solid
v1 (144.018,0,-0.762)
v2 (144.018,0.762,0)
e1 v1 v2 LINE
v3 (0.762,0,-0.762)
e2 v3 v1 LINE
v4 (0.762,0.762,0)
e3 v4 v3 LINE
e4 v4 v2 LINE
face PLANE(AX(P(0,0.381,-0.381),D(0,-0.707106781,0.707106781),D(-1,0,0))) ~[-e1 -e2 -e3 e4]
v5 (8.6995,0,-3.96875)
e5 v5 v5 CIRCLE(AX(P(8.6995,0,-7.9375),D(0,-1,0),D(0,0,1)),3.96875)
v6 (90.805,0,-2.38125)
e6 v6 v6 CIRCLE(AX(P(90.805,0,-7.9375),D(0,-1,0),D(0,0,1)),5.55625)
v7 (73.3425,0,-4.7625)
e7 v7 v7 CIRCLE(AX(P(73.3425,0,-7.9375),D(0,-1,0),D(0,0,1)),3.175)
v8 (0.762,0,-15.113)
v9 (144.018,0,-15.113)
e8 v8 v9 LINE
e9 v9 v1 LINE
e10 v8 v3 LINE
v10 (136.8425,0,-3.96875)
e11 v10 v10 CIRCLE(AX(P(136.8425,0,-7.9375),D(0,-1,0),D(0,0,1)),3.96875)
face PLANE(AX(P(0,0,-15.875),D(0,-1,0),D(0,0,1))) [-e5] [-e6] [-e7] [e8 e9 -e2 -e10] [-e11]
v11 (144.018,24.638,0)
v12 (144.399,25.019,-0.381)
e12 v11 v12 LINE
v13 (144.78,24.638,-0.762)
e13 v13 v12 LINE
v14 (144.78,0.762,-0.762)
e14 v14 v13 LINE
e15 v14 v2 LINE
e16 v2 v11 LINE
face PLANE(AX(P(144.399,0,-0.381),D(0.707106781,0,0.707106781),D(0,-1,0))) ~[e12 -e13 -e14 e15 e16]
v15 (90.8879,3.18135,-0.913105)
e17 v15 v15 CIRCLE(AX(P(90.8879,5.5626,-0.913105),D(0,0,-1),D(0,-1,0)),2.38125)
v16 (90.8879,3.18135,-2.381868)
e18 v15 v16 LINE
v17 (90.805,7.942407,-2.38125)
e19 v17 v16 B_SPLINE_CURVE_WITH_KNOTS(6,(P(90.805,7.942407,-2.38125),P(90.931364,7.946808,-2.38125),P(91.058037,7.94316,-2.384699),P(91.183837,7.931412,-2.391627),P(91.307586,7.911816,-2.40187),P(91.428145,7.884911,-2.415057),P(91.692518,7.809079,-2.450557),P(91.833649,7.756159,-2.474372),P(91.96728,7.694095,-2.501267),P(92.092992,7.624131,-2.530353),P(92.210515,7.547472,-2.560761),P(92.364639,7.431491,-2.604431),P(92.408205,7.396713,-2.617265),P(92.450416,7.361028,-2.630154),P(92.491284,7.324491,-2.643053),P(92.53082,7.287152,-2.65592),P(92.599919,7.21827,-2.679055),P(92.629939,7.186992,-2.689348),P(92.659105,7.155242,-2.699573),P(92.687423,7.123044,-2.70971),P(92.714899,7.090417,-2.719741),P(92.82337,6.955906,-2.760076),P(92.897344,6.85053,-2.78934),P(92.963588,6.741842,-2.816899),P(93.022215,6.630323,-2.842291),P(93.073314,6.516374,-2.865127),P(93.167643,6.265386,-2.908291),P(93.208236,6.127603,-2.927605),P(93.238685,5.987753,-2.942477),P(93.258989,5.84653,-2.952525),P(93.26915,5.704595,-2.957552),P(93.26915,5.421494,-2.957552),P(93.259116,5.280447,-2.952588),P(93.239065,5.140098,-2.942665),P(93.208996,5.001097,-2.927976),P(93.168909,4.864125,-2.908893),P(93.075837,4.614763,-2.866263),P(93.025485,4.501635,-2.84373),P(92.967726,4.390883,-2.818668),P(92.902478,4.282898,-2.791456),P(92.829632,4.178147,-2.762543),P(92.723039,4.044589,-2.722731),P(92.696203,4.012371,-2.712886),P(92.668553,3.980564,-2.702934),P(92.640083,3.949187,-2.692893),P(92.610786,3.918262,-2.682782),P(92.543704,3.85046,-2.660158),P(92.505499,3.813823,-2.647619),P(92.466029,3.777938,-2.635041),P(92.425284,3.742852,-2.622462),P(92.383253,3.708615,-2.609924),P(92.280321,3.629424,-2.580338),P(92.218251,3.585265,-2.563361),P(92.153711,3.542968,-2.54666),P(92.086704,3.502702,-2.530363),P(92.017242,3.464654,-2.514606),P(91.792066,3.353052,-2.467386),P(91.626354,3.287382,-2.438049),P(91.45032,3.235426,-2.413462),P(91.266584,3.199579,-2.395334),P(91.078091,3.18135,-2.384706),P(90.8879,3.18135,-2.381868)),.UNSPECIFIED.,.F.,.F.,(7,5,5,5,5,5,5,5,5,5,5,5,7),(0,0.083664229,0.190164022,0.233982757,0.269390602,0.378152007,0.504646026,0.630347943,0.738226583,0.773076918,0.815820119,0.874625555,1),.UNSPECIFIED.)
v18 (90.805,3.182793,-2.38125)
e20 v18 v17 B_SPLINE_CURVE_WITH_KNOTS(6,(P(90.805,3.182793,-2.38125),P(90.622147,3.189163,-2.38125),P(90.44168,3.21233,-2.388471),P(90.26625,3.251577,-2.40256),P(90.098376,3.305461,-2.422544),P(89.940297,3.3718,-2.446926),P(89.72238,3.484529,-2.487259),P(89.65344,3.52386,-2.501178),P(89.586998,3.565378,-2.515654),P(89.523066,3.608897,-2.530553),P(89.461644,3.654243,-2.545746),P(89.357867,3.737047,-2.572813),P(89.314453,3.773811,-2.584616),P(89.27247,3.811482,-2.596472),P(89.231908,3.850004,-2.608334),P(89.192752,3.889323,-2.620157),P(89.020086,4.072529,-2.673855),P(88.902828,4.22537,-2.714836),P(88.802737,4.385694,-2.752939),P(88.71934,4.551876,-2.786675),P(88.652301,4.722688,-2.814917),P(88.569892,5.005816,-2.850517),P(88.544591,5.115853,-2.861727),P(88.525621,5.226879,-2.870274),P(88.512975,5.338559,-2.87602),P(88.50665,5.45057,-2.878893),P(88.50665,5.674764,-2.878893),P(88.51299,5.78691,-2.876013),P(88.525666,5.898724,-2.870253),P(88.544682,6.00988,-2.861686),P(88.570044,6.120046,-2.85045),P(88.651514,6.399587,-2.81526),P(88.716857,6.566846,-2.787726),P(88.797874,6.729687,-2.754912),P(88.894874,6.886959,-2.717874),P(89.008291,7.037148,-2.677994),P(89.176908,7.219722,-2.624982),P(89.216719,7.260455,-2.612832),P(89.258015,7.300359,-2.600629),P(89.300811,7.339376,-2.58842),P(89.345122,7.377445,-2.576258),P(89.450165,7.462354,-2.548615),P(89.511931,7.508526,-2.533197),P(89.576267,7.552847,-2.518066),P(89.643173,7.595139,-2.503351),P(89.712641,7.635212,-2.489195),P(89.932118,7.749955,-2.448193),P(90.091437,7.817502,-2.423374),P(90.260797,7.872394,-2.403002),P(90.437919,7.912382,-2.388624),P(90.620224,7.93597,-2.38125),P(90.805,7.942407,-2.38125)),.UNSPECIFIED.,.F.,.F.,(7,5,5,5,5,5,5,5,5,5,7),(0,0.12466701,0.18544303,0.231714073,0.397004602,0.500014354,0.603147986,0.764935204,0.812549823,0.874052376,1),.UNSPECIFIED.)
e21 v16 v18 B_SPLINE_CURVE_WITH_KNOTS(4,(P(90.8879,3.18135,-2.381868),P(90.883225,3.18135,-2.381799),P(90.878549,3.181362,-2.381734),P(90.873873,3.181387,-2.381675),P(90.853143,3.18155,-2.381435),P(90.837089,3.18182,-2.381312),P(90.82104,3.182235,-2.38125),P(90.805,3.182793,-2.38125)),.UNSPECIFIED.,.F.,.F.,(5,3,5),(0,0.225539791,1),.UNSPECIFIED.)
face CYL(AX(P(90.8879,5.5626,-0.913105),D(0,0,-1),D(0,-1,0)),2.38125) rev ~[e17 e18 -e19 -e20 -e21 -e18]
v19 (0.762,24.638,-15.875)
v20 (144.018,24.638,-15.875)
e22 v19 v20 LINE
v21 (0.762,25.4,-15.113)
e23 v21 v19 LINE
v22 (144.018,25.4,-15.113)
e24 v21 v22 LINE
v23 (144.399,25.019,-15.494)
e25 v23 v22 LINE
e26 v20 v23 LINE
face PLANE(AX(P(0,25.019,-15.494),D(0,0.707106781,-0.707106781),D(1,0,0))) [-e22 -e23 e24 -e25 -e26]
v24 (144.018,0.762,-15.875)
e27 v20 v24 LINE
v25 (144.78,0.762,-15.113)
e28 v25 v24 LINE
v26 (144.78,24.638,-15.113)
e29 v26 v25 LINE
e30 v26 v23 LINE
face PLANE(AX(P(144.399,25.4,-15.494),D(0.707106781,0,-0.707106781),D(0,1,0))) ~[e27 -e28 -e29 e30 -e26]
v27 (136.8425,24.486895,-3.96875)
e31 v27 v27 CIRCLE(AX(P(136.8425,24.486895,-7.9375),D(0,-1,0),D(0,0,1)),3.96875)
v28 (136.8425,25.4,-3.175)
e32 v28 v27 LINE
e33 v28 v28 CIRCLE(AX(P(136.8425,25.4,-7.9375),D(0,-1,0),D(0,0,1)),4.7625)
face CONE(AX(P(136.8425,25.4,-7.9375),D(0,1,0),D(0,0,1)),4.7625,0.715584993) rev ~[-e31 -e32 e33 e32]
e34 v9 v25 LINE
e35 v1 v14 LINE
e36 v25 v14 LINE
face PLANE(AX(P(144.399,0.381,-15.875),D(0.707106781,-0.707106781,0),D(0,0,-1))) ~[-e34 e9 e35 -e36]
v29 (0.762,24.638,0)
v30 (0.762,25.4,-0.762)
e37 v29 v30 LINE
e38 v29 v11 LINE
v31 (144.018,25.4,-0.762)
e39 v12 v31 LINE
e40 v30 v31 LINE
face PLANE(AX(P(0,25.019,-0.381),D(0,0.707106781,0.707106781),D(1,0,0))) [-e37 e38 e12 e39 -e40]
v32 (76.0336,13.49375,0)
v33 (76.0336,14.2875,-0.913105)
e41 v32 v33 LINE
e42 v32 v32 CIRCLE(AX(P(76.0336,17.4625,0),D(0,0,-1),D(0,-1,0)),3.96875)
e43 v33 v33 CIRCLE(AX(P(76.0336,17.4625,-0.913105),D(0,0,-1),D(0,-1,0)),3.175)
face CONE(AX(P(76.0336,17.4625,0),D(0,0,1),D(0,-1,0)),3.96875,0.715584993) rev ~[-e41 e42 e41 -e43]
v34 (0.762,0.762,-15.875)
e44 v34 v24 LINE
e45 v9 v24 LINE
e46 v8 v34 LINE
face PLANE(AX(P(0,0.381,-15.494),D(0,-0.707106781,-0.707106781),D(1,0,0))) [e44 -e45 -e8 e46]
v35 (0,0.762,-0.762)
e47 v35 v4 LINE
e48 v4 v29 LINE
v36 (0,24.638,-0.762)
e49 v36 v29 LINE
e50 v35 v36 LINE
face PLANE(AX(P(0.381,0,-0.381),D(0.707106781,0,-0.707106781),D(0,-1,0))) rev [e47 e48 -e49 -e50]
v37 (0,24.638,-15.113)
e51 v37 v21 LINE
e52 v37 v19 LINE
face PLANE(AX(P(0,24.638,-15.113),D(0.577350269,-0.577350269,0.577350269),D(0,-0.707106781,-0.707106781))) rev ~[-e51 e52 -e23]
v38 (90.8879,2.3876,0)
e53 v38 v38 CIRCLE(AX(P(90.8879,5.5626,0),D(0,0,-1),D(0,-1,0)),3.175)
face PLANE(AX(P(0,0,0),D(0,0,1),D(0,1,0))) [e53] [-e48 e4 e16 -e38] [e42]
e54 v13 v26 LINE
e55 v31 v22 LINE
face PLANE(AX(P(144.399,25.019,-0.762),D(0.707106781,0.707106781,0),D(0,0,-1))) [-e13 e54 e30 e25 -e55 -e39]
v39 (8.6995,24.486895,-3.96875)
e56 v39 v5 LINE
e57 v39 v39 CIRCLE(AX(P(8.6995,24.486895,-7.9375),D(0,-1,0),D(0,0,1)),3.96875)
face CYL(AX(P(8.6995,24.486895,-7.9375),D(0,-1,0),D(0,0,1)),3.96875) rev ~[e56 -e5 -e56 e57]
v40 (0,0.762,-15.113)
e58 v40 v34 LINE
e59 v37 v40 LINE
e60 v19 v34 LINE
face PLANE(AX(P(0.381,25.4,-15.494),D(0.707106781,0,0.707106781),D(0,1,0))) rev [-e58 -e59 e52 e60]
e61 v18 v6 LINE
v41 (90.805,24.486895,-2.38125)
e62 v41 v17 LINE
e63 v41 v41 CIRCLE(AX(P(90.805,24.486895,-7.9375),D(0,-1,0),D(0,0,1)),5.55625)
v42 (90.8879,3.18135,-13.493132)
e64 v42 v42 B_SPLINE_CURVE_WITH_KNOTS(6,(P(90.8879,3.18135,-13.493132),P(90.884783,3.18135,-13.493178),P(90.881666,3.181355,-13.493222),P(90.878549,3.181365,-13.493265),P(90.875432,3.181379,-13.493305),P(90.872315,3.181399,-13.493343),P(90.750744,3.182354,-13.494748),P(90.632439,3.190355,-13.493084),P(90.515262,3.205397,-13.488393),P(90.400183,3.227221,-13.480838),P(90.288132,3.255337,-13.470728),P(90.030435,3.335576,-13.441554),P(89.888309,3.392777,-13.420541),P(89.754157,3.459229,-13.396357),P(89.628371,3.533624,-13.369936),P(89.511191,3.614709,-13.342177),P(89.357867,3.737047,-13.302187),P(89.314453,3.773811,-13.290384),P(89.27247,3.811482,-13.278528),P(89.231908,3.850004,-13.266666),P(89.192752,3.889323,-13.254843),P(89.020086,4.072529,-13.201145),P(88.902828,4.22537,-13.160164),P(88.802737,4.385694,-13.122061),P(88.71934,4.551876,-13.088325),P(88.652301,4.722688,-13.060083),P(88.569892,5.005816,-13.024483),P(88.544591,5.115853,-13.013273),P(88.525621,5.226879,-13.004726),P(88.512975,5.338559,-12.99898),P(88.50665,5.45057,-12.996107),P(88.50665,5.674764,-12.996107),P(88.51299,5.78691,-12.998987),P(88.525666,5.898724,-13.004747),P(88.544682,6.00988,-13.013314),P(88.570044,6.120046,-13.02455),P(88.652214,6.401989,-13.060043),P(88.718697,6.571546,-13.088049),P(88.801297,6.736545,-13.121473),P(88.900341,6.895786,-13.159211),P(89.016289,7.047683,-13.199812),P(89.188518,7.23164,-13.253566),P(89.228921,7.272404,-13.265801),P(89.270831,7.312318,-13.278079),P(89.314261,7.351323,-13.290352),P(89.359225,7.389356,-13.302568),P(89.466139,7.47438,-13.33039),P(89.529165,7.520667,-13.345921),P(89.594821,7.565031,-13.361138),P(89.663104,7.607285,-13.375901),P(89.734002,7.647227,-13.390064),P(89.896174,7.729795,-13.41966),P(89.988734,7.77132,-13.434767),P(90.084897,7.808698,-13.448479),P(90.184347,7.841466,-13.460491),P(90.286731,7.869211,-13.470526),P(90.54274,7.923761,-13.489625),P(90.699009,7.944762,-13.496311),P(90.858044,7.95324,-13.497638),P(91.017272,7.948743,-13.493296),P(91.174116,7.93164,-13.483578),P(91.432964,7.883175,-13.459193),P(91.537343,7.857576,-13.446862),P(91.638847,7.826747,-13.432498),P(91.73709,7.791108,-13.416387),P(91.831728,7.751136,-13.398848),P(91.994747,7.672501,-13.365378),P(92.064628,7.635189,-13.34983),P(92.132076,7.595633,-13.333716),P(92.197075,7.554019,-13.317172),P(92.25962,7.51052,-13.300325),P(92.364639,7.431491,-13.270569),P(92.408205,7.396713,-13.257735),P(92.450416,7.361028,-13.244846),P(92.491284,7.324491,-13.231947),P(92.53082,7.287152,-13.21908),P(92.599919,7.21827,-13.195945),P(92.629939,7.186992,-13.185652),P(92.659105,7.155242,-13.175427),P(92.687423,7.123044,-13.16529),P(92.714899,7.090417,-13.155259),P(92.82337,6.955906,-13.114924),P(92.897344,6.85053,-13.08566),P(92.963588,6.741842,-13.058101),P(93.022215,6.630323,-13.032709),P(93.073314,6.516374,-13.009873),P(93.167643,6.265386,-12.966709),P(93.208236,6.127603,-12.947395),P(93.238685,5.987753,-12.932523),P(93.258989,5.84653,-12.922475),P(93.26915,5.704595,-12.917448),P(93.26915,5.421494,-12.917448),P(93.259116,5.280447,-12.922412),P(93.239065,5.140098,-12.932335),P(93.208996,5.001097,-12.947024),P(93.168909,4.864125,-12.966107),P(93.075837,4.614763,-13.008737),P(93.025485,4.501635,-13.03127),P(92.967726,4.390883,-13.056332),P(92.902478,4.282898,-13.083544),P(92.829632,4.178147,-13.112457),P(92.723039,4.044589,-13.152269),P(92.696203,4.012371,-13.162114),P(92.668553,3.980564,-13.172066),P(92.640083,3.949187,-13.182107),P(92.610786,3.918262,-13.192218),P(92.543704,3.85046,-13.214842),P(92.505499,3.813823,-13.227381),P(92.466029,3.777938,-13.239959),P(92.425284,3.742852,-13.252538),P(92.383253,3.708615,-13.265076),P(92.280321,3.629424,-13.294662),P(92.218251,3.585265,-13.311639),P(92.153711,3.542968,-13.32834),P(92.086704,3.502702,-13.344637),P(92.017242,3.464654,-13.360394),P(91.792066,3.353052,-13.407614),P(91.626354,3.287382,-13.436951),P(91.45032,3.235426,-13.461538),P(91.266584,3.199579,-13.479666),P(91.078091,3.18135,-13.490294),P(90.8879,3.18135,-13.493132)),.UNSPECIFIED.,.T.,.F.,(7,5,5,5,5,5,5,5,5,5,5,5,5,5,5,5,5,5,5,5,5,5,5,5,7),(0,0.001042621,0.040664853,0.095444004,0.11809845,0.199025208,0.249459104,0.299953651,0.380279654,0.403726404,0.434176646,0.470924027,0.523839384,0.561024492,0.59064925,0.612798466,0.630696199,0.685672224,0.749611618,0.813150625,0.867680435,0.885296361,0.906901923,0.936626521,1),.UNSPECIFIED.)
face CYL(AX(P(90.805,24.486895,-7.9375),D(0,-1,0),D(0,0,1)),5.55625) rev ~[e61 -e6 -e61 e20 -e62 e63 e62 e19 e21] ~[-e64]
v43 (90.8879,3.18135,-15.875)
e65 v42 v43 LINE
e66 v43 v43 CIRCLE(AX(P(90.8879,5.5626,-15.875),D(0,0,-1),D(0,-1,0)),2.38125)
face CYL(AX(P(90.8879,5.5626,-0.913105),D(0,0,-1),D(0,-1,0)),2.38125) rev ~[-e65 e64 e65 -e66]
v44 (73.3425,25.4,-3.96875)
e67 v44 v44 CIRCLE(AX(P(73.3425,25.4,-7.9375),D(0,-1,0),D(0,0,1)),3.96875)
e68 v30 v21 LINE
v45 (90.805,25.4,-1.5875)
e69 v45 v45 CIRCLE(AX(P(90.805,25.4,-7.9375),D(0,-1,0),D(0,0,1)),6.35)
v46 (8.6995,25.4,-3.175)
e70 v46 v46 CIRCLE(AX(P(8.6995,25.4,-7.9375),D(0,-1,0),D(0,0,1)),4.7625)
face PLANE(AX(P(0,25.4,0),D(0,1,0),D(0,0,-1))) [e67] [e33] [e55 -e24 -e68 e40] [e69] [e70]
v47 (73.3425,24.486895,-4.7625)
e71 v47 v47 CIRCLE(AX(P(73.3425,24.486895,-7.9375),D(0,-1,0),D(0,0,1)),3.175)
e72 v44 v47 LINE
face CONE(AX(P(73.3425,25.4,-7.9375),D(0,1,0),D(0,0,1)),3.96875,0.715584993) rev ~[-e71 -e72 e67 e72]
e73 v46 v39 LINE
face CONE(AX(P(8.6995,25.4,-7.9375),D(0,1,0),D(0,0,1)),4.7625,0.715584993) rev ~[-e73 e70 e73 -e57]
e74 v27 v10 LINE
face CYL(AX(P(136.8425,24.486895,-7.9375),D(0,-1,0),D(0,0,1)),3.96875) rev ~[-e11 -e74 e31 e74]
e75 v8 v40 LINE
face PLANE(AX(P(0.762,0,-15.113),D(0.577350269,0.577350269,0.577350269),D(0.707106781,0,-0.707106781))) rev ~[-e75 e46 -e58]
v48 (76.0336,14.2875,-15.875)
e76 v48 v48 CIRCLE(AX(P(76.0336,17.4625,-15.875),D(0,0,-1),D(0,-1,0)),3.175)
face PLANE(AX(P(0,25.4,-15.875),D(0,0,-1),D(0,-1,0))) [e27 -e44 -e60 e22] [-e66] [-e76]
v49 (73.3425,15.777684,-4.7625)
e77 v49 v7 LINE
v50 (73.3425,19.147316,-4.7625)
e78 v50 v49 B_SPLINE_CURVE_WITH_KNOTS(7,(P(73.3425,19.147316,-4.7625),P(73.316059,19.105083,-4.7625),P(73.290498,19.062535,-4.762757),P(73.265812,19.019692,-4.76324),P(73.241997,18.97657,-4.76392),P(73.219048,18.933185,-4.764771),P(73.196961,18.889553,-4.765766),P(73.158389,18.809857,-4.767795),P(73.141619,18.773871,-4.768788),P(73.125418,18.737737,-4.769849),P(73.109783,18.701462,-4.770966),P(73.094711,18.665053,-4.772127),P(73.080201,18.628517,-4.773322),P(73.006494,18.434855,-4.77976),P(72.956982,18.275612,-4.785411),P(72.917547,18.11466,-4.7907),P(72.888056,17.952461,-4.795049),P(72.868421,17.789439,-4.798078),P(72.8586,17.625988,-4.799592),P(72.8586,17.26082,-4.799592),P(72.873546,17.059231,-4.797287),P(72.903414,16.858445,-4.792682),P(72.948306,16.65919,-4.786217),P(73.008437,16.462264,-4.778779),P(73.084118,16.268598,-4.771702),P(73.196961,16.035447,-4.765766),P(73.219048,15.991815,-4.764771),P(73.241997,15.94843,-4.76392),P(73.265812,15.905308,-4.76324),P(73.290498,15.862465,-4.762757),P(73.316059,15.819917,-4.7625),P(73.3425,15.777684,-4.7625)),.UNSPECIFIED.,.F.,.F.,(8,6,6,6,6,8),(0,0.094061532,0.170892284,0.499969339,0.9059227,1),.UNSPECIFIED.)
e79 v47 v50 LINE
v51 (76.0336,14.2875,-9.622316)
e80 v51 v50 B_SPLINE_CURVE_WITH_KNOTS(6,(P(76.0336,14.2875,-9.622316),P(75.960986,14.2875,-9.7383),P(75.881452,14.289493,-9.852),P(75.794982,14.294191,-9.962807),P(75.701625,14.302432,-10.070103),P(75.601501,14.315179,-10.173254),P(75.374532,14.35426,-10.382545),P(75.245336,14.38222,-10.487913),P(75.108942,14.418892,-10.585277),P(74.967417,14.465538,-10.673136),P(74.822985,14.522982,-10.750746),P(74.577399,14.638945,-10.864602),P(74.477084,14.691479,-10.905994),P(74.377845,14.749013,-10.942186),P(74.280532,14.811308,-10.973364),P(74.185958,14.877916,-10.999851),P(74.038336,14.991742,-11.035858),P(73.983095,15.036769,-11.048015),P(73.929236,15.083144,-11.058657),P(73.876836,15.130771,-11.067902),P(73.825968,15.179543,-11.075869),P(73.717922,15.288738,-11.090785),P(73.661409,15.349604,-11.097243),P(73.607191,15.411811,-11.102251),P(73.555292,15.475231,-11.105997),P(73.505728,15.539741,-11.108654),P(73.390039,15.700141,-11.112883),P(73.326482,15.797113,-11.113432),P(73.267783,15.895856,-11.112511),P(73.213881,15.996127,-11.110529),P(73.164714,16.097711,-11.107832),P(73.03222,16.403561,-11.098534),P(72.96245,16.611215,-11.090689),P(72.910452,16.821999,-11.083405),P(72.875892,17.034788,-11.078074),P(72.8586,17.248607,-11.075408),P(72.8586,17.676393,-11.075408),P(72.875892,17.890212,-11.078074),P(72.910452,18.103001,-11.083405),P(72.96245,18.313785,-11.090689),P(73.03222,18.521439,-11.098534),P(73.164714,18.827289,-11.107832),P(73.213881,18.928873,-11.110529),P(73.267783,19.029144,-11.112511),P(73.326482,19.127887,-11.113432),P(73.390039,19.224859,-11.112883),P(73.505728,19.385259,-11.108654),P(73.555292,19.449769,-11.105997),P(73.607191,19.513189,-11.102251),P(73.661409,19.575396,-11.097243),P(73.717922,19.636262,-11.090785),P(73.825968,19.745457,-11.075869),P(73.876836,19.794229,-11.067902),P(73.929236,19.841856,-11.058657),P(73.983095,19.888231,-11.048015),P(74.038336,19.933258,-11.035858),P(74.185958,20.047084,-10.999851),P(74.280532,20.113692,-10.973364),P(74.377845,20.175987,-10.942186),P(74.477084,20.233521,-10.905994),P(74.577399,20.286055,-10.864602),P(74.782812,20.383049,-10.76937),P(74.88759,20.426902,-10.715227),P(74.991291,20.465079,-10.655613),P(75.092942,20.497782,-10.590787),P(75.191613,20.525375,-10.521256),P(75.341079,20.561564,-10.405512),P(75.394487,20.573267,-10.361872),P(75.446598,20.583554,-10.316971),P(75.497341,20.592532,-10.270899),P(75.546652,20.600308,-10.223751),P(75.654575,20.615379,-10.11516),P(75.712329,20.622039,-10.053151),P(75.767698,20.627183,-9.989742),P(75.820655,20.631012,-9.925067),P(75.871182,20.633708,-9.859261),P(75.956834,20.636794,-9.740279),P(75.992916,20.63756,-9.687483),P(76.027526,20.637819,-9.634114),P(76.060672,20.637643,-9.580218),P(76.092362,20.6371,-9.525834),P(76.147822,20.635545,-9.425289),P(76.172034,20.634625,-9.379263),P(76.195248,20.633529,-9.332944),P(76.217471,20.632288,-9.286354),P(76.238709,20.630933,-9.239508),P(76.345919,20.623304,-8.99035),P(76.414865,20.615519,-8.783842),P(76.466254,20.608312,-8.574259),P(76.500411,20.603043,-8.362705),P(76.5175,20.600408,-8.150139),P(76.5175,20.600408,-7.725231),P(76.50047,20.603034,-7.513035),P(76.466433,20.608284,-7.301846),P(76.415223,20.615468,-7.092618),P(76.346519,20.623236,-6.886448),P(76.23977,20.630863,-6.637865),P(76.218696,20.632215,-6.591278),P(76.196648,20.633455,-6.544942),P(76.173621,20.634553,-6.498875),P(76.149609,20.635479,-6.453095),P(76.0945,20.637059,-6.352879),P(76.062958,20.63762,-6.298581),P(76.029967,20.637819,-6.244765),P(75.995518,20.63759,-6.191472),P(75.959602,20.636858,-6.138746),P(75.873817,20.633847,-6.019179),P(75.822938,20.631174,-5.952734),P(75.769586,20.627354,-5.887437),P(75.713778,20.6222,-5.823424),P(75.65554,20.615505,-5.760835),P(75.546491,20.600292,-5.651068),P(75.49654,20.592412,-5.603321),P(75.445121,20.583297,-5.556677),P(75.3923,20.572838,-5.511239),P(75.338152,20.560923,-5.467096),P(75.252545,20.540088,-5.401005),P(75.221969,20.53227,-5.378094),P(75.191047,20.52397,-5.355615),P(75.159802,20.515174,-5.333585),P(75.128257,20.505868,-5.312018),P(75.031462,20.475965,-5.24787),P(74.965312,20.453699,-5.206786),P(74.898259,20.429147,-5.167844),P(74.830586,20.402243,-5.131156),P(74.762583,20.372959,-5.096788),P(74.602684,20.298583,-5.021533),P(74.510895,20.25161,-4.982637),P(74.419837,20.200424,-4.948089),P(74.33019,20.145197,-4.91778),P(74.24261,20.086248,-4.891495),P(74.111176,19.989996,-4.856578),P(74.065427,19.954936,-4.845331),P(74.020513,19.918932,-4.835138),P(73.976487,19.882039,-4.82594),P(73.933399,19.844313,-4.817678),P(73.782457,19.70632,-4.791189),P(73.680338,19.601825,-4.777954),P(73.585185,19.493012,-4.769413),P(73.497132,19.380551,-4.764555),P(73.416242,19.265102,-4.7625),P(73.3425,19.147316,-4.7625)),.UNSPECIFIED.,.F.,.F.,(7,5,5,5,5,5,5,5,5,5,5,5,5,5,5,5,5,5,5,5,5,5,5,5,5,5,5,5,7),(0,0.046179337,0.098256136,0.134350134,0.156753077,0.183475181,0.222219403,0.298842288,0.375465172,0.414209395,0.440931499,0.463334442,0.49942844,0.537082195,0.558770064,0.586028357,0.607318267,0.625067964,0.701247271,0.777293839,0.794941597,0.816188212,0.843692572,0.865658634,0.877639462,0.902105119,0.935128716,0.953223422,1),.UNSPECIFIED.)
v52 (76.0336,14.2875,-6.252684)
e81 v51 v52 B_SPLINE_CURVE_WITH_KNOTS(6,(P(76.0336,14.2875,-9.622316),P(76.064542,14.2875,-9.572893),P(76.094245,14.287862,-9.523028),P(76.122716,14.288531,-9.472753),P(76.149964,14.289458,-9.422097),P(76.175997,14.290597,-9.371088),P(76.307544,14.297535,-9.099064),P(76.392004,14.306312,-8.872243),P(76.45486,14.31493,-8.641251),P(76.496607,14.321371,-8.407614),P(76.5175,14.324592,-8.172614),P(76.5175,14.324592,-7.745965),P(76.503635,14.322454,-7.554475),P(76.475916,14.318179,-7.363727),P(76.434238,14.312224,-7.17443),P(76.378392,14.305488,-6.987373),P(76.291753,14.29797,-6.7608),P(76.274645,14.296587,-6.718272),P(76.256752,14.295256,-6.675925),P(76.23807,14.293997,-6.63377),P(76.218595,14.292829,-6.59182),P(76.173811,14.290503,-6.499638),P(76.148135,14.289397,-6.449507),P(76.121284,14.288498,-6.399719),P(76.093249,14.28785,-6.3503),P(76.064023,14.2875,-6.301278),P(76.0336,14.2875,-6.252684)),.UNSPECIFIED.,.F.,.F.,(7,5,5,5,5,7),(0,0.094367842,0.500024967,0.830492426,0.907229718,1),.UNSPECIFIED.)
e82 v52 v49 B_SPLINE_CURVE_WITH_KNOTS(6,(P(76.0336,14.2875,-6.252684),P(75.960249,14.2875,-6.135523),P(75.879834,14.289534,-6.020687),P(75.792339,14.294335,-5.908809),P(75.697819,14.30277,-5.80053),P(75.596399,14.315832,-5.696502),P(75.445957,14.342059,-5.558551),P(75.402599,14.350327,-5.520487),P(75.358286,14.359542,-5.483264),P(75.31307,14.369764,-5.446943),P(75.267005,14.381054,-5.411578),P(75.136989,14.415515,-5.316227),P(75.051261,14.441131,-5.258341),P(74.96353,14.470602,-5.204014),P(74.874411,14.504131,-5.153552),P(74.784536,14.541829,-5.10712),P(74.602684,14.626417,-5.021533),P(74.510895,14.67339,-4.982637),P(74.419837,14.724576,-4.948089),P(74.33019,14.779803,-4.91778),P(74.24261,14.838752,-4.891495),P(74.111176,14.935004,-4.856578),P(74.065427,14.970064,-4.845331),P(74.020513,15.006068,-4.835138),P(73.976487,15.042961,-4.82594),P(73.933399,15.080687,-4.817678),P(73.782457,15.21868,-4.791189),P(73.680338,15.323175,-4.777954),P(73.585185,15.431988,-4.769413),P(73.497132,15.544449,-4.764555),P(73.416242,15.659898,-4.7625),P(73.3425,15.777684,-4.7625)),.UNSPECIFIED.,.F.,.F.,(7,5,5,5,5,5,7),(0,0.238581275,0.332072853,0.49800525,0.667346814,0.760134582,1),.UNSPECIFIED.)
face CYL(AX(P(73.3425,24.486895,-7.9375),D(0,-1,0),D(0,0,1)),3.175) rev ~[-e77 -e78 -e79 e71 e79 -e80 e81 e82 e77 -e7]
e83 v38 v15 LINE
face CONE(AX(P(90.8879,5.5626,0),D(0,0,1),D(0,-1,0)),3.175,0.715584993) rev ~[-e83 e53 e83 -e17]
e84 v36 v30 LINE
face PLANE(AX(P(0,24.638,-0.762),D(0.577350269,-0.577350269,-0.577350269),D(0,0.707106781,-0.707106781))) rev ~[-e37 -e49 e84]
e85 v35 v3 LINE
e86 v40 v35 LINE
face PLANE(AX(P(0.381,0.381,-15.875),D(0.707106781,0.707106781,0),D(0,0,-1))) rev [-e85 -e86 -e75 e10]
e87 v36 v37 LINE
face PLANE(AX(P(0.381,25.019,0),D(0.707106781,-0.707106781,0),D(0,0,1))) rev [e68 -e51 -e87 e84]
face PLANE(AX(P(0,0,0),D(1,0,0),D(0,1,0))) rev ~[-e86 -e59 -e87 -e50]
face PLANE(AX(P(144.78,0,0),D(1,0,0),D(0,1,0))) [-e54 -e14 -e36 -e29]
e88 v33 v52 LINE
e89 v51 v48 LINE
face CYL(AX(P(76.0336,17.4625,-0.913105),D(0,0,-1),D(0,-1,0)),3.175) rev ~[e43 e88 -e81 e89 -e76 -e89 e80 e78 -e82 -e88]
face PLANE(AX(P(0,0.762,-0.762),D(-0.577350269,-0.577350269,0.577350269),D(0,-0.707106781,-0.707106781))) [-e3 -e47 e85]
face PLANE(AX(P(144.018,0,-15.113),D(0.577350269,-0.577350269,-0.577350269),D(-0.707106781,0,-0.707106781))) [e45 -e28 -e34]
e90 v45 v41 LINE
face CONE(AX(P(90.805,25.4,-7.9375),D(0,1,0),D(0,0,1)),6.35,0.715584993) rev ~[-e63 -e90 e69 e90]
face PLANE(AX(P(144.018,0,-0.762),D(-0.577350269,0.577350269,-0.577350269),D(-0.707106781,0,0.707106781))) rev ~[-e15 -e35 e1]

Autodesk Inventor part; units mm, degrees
ref_plane "YZ Plane" through (0, 0, 0) normal (1, 0, 0) x (0, 1, 0)
ref_plane "XZ Plane" through (0, 0, 0) normal (0, 1, 0) x (-1, 0, 0)
ref_plane "XY Plane" through (0, 0, 0) normal (0, 0, 1) x (1, 0, 0)
sketch "Sketch1" plane through (0, 0, 0) normal (1, 0, 0) x (0, 1, 0)
  line L0 (0, 0) -> (25.4, 0)
  line L1 (25.4, 0) -> (25.4, -15.875)
  line L2 (25.4, -15.875) -> (0, -15.875)
  line L3 (0, -15.875) -> (0, 0)
  dimension "d0" = 25.4
  dimension "d1" = 15.875
extrude "Extrusion1" add sketch "Sketch1" along normal blind 144.78
chamfer "Chamfer1" distance 0.762 angle 45 11 edges at (144.78, 12.7, 0) (144.78, 12.7, -15.875) (144.78, 0, -7.9375) (72.39, 0, 0) (72.39, 25.4, 0) (72.39, 25.4, -15.875) (0, 12.7, 0) (0, 25.4, -7.9375) (0, 12.7, -15.875) (0, 0, -7.9375) (72.39, 0, -15.875)
sketch "Sketch2" plane through (0.762, 25.4, -15.113) normal (0, 1, 0) x (1, 0, 0)
  line L0 (0, -15.113) -> (143.256, -15.113) projected
  line L1 (0, -15.113) -> (7.9375, -15.113)
  line L2 (7.9375, -15.113) -> (7.9375, -7.1755)
  point P0 (-0.762, -15.113)
  dimension "d7" = 7.9375
  dimension "d8" = 7.9375
hole "Hole1" at (8.6995, 25.4, -7.9375) direction (0, -1, 0) diameter 7.9375 end through all countersink diameter 9.525 countersink angle 82
sketch "Sketch3" plane through (0.762, 25.4, -15.113) normal (0, 1, 0) x (1, 0, 0)
  line L0 (144.018, 0) -> (144.018, -14.351) projected
  line L1 (144.018, -7.1755) -> (72.5805, -7.1755)
  point P0 (-0.762, -15.113)
  dimension "d16" = 71.4375
hole "Hole2" at (73.3425, 25.4, -7.9375) direction (0, -1, 0) diameter 6.35 end through all countersink diameter 7.9375 countersink angle 82
sketch "Sketch4" plane through (0.762, 25.4, -15.113) normal (0, 1, 0) x (1, 0, 0)
  line L0 (144.018, 0) -> (144.018, -14.351) projected
  line L1 (144.018, -7.1755) -> (90.043, -7.1755)
  point P0 (-0.762, -15.113)
  dimension "d24" = 53.975
hole "Hole3" at (90.805, 25.4, -7.9375) direction (0, -1, 0) diameter 11.1125 end through all countersink diameter 12.7 countersink angle 82
sketch "Sketch5" plane through (0.762, 25.4, -15.113) normal (0, 1, 0) x (1, 0, 0)
  line L0 (144.018, 0) -> (144.018, -14.351) projected
  line L1 (144.018, -7.1755) -> (136.0805, -7.1755)
  point P0 (-0.762, -15.113)
  dimension "d32" = 7.9375
hole "Hole4" at (136.8425, 25.4, -7.9375) direction (0, -1, 0) diameter 7.9375 end through all countersink diameter 9.525 countersink angle 82
sketch "Sketch6" plane through (0.762, 0.762, 0) normal (0, 0, 1) x (1, 0, 0)
  line L0 (111.9534, -0.762) -> (111.9534, 4.8006) construction
  line L1 (117.1134, 4.8006) -> (90.1259, 4.8006) construction
  point P0 (-0.762, -0.762)
  dimension "d40" = 5.5626
  dimension "d41" = 26.9875
hole "Hole5" at (90.8879, 5.5626, 0) direction (0, 0, -1) diameter 4.7625 end through all countersink diameter 6.35 countersink angle 82
sketch "Sketch7" plane through (0.762, 0.762, 0) normal (0, 0, 1) x (1, 0, 0)
  line L0 (114.57, -0.762) -> (114.57, 16.7005)
  line L1 (116.5466, 16.7005) -> (75.2716, 16.7005)
  point P0 (-0.762, -0.762)
  dimension "d49" = 17.4625
  dimension "d50" = 41.275
hole "Hole6" at (76.0336, 17.4625, 0) direction (0, 0, -1) diameter 6.35 end through all countersink diameter 7.9375 countersink angle 82
chamfer "Chamfer2" distance 0.762 angle 45 1 edges at (144.78, 25.4, -7.9375)
properties part number "holes1"
